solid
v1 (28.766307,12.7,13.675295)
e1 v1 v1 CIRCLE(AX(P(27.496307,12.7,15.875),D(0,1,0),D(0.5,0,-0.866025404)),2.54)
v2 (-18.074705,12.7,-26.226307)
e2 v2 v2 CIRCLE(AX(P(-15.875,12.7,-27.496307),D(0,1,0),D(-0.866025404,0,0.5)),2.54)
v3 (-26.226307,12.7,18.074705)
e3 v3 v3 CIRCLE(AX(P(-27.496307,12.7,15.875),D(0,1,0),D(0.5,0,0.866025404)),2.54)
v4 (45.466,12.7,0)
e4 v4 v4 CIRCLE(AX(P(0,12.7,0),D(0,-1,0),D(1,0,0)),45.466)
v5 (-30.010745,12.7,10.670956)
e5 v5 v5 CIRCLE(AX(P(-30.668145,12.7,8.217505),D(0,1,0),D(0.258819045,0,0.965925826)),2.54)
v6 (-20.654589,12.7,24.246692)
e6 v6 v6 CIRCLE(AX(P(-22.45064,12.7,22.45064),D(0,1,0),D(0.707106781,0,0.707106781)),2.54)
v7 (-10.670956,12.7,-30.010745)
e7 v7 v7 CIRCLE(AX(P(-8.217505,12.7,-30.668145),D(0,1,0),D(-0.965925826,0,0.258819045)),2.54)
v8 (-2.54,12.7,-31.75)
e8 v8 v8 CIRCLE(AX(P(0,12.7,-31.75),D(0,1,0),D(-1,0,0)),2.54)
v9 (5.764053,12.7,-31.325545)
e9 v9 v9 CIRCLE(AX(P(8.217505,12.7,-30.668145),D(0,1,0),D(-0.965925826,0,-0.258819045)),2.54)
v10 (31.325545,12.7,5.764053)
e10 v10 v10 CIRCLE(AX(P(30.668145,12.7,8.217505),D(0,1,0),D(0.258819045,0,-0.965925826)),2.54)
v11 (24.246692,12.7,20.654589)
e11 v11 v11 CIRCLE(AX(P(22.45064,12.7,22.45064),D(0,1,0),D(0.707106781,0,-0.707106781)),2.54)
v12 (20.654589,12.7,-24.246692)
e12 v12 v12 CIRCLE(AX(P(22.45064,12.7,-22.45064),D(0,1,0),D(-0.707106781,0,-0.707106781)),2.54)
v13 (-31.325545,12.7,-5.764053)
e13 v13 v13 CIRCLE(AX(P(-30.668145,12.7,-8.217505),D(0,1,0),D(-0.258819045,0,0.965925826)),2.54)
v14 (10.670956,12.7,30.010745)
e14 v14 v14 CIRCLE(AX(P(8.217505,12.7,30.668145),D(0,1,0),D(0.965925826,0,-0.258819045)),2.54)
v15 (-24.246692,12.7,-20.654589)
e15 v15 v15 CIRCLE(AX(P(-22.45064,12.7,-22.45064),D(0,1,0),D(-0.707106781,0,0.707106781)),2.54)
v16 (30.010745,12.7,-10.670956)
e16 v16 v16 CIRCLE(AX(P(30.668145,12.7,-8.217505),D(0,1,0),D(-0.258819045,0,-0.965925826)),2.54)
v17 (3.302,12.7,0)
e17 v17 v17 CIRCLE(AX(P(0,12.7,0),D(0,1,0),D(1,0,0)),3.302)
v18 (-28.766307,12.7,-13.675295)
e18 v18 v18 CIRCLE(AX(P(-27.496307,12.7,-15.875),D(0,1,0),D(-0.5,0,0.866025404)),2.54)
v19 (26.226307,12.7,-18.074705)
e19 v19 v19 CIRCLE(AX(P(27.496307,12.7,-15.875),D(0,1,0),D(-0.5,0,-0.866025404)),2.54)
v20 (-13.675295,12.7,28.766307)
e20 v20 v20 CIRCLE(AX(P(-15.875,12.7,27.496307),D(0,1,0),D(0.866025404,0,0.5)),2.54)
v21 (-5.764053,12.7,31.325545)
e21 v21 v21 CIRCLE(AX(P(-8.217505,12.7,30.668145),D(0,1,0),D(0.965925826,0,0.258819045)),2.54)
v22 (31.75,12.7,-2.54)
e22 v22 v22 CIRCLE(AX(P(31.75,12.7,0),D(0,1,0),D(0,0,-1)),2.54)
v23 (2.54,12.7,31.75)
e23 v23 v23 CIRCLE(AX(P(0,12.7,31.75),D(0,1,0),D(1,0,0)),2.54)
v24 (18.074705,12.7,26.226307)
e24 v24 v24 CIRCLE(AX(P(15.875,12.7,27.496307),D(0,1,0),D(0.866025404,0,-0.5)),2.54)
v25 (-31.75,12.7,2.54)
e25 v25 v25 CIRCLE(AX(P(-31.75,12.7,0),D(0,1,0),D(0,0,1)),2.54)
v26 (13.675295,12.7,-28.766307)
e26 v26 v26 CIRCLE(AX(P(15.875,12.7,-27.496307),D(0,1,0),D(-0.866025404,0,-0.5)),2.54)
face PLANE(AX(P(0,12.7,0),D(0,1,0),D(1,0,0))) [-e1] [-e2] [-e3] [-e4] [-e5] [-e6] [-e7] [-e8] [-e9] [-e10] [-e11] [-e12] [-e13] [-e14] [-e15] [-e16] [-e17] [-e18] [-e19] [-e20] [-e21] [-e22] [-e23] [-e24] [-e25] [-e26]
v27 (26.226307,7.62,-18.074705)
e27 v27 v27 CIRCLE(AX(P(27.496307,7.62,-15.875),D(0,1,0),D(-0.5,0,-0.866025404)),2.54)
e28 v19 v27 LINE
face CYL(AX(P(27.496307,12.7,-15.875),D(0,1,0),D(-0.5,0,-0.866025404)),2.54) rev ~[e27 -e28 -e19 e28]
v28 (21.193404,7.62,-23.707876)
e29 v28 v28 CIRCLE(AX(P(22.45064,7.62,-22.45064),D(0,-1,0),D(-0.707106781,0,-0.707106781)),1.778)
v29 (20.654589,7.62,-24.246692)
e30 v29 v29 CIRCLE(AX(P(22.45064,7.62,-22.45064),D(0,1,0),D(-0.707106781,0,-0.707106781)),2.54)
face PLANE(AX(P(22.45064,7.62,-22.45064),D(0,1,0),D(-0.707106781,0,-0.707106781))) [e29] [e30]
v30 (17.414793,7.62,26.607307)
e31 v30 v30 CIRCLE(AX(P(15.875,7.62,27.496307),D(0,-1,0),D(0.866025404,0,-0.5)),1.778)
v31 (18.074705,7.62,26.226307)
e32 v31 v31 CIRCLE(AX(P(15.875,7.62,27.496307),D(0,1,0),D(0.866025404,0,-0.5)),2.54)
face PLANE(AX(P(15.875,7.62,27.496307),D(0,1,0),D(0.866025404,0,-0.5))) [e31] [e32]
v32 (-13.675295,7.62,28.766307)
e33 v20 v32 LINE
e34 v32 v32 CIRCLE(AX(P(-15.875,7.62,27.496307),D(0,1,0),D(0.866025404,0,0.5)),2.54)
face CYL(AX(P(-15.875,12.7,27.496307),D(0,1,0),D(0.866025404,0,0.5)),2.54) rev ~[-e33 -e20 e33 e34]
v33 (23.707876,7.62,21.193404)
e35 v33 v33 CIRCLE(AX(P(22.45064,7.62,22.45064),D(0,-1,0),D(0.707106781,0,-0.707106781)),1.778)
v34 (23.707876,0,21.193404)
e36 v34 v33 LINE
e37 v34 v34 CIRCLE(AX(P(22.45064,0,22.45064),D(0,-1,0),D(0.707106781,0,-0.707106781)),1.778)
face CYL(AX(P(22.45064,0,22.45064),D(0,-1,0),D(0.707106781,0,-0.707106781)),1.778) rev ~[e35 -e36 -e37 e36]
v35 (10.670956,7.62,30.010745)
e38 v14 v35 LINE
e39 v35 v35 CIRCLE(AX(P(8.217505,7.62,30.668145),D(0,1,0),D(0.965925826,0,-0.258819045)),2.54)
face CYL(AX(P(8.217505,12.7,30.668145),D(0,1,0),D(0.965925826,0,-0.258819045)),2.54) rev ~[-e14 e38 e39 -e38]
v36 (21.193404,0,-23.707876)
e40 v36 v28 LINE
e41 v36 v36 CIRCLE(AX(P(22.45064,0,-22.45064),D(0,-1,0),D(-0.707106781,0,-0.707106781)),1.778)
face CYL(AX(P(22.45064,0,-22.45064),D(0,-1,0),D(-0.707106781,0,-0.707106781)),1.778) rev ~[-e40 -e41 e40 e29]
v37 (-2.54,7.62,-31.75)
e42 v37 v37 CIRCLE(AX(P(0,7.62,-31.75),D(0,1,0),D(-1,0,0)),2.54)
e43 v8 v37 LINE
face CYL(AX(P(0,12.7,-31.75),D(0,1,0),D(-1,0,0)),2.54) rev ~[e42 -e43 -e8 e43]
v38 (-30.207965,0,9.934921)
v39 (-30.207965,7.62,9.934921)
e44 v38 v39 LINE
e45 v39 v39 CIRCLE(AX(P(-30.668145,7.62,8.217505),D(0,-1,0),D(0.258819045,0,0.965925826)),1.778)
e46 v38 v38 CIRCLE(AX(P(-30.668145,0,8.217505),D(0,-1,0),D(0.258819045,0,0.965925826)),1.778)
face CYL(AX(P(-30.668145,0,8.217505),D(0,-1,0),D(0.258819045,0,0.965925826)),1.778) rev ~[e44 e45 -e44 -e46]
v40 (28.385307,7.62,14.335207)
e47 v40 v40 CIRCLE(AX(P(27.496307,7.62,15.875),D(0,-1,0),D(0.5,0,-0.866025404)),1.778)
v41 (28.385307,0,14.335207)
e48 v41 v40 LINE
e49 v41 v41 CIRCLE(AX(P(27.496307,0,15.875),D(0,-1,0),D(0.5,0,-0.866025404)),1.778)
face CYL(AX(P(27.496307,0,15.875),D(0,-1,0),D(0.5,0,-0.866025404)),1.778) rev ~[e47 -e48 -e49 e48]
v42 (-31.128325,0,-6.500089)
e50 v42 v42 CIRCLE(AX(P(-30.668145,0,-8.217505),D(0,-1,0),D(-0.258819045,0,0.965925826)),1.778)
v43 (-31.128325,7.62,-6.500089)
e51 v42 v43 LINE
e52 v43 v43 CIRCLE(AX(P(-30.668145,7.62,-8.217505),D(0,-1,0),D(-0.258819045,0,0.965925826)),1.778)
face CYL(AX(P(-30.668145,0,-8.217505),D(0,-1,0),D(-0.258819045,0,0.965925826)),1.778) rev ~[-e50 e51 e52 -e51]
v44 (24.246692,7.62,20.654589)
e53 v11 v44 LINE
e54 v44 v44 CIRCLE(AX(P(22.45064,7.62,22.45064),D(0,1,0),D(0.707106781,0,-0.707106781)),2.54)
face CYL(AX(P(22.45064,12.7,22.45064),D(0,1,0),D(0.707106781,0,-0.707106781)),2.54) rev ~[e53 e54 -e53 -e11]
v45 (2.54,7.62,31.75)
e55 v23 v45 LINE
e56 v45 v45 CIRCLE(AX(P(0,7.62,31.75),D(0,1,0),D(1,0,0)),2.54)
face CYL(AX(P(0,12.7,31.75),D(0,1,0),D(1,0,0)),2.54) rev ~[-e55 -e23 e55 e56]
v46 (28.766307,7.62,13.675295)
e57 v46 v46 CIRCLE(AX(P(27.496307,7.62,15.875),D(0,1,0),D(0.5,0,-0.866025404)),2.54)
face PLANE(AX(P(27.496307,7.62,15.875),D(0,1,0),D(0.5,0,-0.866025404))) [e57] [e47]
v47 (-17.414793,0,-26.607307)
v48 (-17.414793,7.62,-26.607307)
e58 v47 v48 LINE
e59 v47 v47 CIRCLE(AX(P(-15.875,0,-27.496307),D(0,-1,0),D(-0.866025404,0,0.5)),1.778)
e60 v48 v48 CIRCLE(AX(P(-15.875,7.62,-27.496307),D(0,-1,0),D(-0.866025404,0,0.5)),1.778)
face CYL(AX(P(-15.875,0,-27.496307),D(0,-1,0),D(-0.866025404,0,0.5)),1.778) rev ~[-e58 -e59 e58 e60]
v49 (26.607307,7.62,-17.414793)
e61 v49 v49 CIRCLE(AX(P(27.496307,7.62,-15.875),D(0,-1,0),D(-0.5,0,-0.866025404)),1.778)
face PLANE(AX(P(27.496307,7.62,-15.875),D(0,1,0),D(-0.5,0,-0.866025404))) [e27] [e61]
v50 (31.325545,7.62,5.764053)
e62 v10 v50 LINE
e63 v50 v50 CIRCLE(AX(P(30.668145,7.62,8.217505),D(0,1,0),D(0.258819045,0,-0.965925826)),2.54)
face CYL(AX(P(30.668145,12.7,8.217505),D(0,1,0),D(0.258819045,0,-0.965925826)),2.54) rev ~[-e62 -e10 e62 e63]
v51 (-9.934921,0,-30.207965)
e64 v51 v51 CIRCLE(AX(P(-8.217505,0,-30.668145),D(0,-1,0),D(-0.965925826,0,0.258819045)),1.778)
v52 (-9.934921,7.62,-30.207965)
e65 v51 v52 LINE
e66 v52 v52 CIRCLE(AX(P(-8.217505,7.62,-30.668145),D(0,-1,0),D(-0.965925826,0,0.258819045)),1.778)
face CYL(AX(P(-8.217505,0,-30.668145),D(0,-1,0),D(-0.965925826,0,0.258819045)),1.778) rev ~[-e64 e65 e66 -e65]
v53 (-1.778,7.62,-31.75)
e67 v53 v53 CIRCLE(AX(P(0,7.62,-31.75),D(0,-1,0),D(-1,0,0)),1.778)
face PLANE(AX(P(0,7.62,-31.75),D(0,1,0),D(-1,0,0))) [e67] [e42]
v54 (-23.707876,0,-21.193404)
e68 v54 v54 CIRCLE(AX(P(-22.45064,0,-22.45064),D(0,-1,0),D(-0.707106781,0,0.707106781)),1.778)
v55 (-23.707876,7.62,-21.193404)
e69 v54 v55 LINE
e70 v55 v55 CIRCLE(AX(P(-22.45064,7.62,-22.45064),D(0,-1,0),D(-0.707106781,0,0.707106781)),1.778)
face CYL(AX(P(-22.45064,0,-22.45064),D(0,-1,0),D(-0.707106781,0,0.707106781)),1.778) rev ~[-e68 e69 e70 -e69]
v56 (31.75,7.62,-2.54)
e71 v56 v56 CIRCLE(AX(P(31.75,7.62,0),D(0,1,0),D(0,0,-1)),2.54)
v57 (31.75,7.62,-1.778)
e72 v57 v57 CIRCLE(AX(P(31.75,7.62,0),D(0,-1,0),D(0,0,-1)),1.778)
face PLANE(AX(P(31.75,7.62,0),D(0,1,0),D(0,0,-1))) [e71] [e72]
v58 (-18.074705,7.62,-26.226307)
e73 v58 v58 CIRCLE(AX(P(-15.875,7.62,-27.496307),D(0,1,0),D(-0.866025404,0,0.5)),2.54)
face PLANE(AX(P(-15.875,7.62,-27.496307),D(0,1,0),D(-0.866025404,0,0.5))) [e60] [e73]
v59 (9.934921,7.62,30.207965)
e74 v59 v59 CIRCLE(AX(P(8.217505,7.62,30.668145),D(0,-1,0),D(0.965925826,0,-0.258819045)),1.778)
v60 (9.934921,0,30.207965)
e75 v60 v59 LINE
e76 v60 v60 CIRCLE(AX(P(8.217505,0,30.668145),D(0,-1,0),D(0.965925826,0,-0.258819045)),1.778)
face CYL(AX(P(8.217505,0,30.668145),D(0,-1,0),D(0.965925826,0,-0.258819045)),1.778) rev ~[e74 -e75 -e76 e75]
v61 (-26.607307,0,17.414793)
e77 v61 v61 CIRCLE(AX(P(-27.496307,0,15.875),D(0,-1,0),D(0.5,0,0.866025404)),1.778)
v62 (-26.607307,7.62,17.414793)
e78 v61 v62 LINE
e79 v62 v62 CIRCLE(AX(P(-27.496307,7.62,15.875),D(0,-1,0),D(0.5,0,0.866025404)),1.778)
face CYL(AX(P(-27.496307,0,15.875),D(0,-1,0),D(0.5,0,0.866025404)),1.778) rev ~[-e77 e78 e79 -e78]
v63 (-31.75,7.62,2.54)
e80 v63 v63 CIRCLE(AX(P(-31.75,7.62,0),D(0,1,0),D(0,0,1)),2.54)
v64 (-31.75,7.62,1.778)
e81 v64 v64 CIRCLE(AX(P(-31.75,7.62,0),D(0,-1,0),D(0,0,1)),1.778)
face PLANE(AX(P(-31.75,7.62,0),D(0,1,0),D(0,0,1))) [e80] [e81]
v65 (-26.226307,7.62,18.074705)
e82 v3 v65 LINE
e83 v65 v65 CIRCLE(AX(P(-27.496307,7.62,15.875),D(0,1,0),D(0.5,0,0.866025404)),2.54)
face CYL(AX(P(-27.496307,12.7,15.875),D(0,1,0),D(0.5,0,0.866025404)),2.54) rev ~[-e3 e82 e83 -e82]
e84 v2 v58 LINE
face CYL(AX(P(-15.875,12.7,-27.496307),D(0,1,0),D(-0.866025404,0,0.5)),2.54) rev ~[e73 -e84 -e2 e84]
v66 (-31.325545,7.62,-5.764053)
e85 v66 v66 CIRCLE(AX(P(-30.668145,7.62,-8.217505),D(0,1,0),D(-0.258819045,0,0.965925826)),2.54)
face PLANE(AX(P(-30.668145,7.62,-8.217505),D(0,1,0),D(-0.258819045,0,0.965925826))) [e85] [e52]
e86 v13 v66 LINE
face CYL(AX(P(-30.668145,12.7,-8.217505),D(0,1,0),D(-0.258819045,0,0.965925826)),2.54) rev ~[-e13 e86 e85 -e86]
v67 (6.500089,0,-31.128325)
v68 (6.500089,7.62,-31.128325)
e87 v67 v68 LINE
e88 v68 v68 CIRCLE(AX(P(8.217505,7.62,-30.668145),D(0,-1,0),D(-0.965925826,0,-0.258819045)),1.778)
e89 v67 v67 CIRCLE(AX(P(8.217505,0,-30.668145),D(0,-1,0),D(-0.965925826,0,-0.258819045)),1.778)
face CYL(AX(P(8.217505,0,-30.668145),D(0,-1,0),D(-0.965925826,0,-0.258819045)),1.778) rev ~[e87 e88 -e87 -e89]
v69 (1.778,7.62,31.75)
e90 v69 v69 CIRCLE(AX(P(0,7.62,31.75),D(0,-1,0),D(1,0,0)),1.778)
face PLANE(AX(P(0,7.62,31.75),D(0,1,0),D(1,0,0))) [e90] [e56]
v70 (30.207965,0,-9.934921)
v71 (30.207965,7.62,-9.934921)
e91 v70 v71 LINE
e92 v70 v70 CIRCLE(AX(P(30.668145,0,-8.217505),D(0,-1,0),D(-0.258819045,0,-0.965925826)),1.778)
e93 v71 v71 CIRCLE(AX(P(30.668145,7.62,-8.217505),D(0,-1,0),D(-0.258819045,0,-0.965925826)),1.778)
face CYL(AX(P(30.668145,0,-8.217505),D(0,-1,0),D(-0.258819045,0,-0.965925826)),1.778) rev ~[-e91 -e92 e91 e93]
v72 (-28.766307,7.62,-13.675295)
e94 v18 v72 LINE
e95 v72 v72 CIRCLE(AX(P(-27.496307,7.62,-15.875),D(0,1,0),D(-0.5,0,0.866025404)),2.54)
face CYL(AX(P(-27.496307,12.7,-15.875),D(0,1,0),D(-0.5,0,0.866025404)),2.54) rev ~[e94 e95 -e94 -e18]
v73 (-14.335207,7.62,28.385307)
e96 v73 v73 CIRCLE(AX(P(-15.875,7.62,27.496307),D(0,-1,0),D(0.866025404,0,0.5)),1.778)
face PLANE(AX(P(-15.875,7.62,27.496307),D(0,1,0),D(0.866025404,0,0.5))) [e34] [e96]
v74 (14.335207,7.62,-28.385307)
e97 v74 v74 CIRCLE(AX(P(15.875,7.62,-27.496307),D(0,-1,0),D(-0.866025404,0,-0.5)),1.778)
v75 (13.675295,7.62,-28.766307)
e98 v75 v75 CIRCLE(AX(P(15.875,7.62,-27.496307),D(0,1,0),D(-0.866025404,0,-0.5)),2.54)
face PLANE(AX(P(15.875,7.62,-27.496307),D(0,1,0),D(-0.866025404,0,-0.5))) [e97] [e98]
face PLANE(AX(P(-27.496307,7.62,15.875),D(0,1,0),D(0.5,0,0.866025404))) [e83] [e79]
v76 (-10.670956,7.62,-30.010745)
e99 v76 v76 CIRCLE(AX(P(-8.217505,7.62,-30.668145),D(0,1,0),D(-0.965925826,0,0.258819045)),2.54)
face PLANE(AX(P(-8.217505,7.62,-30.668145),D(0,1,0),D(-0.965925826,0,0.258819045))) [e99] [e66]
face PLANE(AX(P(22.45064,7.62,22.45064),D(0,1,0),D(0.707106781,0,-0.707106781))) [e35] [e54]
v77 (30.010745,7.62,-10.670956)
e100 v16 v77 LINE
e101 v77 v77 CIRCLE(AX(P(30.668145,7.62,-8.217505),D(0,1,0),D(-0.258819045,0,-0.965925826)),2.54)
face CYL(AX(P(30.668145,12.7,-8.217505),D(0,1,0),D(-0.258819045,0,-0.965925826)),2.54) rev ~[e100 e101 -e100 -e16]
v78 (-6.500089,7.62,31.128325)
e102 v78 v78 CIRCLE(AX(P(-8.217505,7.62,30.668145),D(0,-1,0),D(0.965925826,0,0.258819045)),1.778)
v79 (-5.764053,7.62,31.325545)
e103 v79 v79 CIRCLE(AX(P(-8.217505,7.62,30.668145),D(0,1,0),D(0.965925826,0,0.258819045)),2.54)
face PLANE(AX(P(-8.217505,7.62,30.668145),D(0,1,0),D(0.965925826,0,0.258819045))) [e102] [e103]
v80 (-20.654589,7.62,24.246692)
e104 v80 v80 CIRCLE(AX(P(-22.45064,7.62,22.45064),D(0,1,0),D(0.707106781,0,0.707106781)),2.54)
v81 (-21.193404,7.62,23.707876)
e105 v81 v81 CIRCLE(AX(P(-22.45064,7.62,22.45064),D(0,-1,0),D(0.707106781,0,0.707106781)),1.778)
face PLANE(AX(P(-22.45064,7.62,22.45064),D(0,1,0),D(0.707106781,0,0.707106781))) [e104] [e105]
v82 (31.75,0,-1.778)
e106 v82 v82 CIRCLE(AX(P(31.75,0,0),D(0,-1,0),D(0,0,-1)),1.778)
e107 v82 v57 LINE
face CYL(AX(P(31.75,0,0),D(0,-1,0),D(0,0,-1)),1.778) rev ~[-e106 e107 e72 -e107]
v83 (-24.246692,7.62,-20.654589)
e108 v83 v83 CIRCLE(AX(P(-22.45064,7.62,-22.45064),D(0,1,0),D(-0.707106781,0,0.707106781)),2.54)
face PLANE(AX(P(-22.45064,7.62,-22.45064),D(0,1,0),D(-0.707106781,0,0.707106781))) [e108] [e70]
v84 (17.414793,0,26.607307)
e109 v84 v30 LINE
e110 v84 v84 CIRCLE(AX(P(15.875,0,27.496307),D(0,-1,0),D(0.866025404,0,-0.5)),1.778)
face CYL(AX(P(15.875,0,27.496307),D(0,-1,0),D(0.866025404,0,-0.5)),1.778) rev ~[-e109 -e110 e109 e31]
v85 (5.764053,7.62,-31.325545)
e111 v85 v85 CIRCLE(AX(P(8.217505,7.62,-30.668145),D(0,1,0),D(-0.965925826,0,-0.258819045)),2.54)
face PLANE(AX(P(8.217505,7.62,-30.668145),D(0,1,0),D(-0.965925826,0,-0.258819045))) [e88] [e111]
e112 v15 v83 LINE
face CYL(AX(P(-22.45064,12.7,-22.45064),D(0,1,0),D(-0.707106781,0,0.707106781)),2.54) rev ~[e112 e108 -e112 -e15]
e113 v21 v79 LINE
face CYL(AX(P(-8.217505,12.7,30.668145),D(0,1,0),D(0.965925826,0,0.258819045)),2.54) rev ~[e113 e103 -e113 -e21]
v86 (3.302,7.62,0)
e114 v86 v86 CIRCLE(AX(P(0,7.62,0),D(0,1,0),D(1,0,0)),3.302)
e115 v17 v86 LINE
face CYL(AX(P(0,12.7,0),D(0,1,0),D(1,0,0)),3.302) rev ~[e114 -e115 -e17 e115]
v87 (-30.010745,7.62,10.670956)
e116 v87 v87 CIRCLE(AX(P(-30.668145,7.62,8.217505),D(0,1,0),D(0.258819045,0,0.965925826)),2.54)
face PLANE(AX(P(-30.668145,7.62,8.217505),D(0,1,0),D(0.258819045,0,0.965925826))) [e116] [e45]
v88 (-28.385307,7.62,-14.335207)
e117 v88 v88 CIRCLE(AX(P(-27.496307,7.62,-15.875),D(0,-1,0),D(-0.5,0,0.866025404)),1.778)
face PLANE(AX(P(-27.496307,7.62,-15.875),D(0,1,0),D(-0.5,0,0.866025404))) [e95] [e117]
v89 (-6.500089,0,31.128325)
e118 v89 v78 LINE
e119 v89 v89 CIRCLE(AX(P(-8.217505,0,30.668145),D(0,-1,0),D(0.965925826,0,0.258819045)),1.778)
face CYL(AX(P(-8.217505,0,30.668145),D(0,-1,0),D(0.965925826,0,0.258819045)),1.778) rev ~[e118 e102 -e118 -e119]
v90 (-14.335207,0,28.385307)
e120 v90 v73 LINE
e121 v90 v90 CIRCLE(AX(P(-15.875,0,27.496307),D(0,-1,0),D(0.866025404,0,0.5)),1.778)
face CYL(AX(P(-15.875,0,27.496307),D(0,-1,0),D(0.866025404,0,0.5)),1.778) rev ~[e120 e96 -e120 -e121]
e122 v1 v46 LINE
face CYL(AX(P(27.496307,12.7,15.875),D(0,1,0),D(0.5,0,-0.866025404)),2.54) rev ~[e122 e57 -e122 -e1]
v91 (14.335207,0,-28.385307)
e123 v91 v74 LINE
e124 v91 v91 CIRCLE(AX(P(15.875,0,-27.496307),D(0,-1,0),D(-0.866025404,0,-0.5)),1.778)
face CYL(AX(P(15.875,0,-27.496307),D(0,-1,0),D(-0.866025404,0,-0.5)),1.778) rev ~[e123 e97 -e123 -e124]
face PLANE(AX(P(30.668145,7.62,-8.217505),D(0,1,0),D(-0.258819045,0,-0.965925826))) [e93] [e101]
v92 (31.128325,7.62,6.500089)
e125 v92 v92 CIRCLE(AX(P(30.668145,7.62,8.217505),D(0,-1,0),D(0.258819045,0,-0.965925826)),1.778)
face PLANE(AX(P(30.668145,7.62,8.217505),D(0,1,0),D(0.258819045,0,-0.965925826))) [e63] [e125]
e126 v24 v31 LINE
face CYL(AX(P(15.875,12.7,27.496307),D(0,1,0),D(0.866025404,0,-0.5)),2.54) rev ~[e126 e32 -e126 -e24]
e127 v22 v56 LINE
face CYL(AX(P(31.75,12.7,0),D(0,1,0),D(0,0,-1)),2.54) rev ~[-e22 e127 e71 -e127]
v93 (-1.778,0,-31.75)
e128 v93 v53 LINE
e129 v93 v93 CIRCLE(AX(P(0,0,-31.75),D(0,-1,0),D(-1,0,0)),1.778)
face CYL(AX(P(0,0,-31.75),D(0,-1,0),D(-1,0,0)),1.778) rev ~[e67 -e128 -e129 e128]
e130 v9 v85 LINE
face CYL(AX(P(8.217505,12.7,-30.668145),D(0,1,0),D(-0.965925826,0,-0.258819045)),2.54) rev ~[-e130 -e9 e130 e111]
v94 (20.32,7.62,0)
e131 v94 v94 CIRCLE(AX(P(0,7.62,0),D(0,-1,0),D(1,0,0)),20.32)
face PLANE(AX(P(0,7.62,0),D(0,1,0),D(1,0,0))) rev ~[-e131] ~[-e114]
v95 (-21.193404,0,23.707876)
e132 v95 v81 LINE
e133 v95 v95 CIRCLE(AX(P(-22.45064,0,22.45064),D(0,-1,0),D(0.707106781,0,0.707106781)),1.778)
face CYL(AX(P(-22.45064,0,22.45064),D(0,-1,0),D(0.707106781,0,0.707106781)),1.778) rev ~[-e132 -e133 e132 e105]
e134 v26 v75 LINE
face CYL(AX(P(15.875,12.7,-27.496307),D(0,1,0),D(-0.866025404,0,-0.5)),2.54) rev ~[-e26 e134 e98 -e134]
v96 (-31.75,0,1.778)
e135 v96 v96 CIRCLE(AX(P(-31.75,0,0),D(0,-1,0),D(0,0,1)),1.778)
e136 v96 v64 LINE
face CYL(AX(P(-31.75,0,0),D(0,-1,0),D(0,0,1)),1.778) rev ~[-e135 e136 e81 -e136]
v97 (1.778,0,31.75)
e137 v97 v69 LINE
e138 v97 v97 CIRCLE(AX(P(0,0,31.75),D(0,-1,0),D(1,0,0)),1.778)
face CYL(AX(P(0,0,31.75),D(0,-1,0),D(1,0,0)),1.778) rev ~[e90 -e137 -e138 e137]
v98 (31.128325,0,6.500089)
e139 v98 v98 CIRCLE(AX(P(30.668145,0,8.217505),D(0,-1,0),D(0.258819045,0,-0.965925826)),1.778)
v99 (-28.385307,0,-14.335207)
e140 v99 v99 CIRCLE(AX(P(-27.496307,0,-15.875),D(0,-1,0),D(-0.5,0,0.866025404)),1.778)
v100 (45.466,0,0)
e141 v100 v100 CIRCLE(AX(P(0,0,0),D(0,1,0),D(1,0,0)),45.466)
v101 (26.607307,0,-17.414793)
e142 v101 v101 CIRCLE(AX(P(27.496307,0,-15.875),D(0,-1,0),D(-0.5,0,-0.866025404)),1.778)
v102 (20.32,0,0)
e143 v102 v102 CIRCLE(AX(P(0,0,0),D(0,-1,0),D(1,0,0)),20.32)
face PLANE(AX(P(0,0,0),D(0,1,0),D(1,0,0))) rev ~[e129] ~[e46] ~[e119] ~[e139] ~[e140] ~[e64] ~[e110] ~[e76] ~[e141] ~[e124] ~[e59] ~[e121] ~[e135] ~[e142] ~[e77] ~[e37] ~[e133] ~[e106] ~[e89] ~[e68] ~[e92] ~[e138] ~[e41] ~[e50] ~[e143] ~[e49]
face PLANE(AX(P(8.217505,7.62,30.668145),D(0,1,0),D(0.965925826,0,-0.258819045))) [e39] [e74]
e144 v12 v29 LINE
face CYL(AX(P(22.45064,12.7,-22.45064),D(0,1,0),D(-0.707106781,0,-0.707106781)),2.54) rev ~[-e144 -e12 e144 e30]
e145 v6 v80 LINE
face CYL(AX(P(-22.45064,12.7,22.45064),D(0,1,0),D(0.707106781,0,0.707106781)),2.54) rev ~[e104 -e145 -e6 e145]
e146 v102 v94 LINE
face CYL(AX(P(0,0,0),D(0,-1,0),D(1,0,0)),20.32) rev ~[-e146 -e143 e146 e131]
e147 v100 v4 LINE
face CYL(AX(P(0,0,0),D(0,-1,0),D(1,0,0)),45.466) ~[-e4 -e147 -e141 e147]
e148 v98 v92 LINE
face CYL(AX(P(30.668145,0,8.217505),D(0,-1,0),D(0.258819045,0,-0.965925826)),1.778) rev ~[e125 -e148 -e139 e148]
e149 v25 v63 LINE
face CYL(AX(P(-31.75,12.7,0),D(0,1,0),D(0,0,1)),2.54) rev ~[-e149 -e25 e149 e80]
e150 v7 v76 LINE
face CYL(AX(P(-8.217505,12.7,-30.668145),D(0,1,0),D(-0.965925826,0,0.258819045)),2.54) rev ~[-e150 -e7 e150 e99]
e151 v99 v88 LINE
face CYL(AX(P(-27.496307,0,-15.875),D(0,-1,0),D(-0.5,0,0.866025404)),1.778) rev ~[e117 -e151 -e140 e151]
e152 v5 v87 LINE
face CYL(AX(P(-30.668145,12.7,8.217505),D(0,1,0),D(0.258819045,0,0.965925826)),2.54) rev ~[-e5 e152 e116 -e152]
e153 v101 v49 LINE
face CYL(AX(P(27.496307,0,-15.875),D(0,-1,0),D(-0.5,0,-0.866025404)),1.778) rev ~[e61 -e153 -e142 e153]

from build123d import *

# Parameters (mm, degrees)
SKETCH1_R                                        = 45.466
BOSS_EXTRUDE1_DEPTH                              = 25.4
SKETCH3_R                                        = 20.32
CUT_EXTRUDE1_DEPTH                               = 12.7
CSK_FOR_1_4_FLAT_HEAD_MACHINE_SCREW1_D           = 6.5278
CSK_FOR_1_4_FLAT_HEAD_MACHINE_SCREW1_DEPTH       = 25.4
CSK_FOR_1_4_FLAT_HEAD_MACHINE_SCREW1_CSINK_D     = 12.8778
CSK_FOR_1_4_FLAT_HEAD_MACHINE_SCREW1_CSINK_ANGLE = 82
CSK_FOR_1_4_FLAT_HEAD_MACHINE_SCREW1_TIP         = 1.961148974
SKETCH8_R                                        = 46.955588052
CUT_EXTRUDE2_DEPTH                               = 12.7
SKETCH4_R                                        = 1.778
CUT_EXTRUDE3_DEPTH                               = 13.7
SKETCH9_R                                        = 2.54
CUT_EXTRUDE4_DEPTH                               = 5.08
CIRPATTERN1_COUNT                                = 24
SKETCH10_R                                       = 22.834776664
BOSS_EXTRUDE2_DEPTH                              = 5.08
SKETCH11_R                                       = 3.302
CUT_EXTRUDE5_DEPTH                               = 13.7


with BuildPart() as part:
    # Sketch1 → Boss-Extrude1 (new body)
    with BuildSketch(Plane(origin=(0, 0, 0), x_dir=(1, 0, 0), z_dir=(0, 1, 0))):
        Circle(SKETCH1_R)
    extrude(amount=BOSS_EXTRUDE1_DEPTH)

    # Sketch3 → Cut-Extrude1 (cut)
    with BuildSketch(Plane.XZ):
        Circle(SKETCH3_R)
    extrude(amount=-CUT_EXTRUDE1_DEPTH, mode=Mode.SUBTRACT)

    # CSK for 1/4 Flat Head Machine Screw1
    with Locations(Plane(origin=(0, 25.4, 0), x_dir=(1, 0, 0), z_dir=(0, 1, 0))):
        with Locations((0, 0)):
            CounterSinkHole(CSK_FOR_1_4_FLAT_HEAD_MACHINE_SCREW1_D / 2, CSK_FOR_1_4_FLAT_HEAD_MACHINE_SCREW1_CSINK_D / 2, depth=CSK_FOR_1_4_FLAT_HEAD_MACHINE_SCREW1_DEPTH, counter_sink_angle=CSK_FOR_1_4_FLAT_HEAD_MACHINE_SCREW1_CSINK_ANGLE)
            with Locations((0, 0, -(CSK_FOR_1_4_FLAT_HEAD_MACHINE_SCREW1_DEPTH + CSK_FOR_1_4_FLAT_HEAD_MACHINE_SCREW1_TIP / 2))):  # 118° drill point
                Cone(0, CSK_FOR_1_4_FLAT_HEAD_MACHINE_SCREW1_D / 2, CSK_FOR_1_4_FLAT_HEAD_MACHINE_SCREW1_TIP, mode=Mode.SUBTRACT)

    # Sketch8 → Cut-Extrude2 (cut)
    with BuildSketch(Plane(origin=(0, 25.4, 0), x_dir=(1, 0, 0), z_dir=(0, 1, 0))):
        Circle(SKETCH8_R)
    extrude(amount=-CUT_EXTRUDE2_DEPTH, mode=Mode.SUBTRACT)

    # Sketch4 → Cut-Extrude3 (cut, through all)
    with BuildSketch(Plane.XZ):
        with Locations((0, 31.75)):
            Circle(SKETCH4_R)
    cut_extrude3 = extrude(amount=-CUT_EXTRUDE3_DEPTH, mode=Mode.SUBTRACT)

    # Sketch9 → Cut-Extrude4 (cut)
    with BuildSketch(Plane(origin=(0, 12.7, 0), x_dir=(1, 0, 0), z_dir=(0, 1, 0))):
        with Locations((0, -31.75)):
            Circle(SKETCH9_R)
    cut_extrude4 = extrude(amount=-CUT_EXTRUDE4_DEPTH, mode=Mode.SUBTRACT)

    # CirPattern1: Cut-Extrude3, Cut-Extrude4 ×24 about axis
    cirpattern1_axis = Axis((0, 0, 0), (0, 1, 0))
    for i in range(1, CIRPATTERN1_COUNT):
        add(cut_extrude3.rotate(cirpattern1_axis, i * 360 / CIRPATTERN1_COUNT), mode=Mode.SUBTRACT)
        add(cut_extrude4.rotate(cirpattern1_axis, i * 360 / CIRPATTERN1_COUNT), mode=Mode.SUBTRACT)

    # Sketch10 → Boss-Extrude2 (add)
    with BuildSketch(Plane(origin=(0, 12.7, 0), x_dir=(1, 0, 0), z_dir=(0, 1, 0))):
        Circle(SKETCH10_R)
    extrude(amount=-BOSS_EXTRUDE2_DEPTH)

    # Sketch11 → Cut-Extrude5 (cut, through all)
    with BuildSketch(Plane(origin=(0, 12.7, 0), x_dir=(1, 0, 0), z_dir=(0, 1, 0))):
        Circle(SKETCH11_R)
    extrude(amount=-CUT_EXTRUDE5_DEPTH, mode=Mode.SUBTRACT)


solid = part.part
